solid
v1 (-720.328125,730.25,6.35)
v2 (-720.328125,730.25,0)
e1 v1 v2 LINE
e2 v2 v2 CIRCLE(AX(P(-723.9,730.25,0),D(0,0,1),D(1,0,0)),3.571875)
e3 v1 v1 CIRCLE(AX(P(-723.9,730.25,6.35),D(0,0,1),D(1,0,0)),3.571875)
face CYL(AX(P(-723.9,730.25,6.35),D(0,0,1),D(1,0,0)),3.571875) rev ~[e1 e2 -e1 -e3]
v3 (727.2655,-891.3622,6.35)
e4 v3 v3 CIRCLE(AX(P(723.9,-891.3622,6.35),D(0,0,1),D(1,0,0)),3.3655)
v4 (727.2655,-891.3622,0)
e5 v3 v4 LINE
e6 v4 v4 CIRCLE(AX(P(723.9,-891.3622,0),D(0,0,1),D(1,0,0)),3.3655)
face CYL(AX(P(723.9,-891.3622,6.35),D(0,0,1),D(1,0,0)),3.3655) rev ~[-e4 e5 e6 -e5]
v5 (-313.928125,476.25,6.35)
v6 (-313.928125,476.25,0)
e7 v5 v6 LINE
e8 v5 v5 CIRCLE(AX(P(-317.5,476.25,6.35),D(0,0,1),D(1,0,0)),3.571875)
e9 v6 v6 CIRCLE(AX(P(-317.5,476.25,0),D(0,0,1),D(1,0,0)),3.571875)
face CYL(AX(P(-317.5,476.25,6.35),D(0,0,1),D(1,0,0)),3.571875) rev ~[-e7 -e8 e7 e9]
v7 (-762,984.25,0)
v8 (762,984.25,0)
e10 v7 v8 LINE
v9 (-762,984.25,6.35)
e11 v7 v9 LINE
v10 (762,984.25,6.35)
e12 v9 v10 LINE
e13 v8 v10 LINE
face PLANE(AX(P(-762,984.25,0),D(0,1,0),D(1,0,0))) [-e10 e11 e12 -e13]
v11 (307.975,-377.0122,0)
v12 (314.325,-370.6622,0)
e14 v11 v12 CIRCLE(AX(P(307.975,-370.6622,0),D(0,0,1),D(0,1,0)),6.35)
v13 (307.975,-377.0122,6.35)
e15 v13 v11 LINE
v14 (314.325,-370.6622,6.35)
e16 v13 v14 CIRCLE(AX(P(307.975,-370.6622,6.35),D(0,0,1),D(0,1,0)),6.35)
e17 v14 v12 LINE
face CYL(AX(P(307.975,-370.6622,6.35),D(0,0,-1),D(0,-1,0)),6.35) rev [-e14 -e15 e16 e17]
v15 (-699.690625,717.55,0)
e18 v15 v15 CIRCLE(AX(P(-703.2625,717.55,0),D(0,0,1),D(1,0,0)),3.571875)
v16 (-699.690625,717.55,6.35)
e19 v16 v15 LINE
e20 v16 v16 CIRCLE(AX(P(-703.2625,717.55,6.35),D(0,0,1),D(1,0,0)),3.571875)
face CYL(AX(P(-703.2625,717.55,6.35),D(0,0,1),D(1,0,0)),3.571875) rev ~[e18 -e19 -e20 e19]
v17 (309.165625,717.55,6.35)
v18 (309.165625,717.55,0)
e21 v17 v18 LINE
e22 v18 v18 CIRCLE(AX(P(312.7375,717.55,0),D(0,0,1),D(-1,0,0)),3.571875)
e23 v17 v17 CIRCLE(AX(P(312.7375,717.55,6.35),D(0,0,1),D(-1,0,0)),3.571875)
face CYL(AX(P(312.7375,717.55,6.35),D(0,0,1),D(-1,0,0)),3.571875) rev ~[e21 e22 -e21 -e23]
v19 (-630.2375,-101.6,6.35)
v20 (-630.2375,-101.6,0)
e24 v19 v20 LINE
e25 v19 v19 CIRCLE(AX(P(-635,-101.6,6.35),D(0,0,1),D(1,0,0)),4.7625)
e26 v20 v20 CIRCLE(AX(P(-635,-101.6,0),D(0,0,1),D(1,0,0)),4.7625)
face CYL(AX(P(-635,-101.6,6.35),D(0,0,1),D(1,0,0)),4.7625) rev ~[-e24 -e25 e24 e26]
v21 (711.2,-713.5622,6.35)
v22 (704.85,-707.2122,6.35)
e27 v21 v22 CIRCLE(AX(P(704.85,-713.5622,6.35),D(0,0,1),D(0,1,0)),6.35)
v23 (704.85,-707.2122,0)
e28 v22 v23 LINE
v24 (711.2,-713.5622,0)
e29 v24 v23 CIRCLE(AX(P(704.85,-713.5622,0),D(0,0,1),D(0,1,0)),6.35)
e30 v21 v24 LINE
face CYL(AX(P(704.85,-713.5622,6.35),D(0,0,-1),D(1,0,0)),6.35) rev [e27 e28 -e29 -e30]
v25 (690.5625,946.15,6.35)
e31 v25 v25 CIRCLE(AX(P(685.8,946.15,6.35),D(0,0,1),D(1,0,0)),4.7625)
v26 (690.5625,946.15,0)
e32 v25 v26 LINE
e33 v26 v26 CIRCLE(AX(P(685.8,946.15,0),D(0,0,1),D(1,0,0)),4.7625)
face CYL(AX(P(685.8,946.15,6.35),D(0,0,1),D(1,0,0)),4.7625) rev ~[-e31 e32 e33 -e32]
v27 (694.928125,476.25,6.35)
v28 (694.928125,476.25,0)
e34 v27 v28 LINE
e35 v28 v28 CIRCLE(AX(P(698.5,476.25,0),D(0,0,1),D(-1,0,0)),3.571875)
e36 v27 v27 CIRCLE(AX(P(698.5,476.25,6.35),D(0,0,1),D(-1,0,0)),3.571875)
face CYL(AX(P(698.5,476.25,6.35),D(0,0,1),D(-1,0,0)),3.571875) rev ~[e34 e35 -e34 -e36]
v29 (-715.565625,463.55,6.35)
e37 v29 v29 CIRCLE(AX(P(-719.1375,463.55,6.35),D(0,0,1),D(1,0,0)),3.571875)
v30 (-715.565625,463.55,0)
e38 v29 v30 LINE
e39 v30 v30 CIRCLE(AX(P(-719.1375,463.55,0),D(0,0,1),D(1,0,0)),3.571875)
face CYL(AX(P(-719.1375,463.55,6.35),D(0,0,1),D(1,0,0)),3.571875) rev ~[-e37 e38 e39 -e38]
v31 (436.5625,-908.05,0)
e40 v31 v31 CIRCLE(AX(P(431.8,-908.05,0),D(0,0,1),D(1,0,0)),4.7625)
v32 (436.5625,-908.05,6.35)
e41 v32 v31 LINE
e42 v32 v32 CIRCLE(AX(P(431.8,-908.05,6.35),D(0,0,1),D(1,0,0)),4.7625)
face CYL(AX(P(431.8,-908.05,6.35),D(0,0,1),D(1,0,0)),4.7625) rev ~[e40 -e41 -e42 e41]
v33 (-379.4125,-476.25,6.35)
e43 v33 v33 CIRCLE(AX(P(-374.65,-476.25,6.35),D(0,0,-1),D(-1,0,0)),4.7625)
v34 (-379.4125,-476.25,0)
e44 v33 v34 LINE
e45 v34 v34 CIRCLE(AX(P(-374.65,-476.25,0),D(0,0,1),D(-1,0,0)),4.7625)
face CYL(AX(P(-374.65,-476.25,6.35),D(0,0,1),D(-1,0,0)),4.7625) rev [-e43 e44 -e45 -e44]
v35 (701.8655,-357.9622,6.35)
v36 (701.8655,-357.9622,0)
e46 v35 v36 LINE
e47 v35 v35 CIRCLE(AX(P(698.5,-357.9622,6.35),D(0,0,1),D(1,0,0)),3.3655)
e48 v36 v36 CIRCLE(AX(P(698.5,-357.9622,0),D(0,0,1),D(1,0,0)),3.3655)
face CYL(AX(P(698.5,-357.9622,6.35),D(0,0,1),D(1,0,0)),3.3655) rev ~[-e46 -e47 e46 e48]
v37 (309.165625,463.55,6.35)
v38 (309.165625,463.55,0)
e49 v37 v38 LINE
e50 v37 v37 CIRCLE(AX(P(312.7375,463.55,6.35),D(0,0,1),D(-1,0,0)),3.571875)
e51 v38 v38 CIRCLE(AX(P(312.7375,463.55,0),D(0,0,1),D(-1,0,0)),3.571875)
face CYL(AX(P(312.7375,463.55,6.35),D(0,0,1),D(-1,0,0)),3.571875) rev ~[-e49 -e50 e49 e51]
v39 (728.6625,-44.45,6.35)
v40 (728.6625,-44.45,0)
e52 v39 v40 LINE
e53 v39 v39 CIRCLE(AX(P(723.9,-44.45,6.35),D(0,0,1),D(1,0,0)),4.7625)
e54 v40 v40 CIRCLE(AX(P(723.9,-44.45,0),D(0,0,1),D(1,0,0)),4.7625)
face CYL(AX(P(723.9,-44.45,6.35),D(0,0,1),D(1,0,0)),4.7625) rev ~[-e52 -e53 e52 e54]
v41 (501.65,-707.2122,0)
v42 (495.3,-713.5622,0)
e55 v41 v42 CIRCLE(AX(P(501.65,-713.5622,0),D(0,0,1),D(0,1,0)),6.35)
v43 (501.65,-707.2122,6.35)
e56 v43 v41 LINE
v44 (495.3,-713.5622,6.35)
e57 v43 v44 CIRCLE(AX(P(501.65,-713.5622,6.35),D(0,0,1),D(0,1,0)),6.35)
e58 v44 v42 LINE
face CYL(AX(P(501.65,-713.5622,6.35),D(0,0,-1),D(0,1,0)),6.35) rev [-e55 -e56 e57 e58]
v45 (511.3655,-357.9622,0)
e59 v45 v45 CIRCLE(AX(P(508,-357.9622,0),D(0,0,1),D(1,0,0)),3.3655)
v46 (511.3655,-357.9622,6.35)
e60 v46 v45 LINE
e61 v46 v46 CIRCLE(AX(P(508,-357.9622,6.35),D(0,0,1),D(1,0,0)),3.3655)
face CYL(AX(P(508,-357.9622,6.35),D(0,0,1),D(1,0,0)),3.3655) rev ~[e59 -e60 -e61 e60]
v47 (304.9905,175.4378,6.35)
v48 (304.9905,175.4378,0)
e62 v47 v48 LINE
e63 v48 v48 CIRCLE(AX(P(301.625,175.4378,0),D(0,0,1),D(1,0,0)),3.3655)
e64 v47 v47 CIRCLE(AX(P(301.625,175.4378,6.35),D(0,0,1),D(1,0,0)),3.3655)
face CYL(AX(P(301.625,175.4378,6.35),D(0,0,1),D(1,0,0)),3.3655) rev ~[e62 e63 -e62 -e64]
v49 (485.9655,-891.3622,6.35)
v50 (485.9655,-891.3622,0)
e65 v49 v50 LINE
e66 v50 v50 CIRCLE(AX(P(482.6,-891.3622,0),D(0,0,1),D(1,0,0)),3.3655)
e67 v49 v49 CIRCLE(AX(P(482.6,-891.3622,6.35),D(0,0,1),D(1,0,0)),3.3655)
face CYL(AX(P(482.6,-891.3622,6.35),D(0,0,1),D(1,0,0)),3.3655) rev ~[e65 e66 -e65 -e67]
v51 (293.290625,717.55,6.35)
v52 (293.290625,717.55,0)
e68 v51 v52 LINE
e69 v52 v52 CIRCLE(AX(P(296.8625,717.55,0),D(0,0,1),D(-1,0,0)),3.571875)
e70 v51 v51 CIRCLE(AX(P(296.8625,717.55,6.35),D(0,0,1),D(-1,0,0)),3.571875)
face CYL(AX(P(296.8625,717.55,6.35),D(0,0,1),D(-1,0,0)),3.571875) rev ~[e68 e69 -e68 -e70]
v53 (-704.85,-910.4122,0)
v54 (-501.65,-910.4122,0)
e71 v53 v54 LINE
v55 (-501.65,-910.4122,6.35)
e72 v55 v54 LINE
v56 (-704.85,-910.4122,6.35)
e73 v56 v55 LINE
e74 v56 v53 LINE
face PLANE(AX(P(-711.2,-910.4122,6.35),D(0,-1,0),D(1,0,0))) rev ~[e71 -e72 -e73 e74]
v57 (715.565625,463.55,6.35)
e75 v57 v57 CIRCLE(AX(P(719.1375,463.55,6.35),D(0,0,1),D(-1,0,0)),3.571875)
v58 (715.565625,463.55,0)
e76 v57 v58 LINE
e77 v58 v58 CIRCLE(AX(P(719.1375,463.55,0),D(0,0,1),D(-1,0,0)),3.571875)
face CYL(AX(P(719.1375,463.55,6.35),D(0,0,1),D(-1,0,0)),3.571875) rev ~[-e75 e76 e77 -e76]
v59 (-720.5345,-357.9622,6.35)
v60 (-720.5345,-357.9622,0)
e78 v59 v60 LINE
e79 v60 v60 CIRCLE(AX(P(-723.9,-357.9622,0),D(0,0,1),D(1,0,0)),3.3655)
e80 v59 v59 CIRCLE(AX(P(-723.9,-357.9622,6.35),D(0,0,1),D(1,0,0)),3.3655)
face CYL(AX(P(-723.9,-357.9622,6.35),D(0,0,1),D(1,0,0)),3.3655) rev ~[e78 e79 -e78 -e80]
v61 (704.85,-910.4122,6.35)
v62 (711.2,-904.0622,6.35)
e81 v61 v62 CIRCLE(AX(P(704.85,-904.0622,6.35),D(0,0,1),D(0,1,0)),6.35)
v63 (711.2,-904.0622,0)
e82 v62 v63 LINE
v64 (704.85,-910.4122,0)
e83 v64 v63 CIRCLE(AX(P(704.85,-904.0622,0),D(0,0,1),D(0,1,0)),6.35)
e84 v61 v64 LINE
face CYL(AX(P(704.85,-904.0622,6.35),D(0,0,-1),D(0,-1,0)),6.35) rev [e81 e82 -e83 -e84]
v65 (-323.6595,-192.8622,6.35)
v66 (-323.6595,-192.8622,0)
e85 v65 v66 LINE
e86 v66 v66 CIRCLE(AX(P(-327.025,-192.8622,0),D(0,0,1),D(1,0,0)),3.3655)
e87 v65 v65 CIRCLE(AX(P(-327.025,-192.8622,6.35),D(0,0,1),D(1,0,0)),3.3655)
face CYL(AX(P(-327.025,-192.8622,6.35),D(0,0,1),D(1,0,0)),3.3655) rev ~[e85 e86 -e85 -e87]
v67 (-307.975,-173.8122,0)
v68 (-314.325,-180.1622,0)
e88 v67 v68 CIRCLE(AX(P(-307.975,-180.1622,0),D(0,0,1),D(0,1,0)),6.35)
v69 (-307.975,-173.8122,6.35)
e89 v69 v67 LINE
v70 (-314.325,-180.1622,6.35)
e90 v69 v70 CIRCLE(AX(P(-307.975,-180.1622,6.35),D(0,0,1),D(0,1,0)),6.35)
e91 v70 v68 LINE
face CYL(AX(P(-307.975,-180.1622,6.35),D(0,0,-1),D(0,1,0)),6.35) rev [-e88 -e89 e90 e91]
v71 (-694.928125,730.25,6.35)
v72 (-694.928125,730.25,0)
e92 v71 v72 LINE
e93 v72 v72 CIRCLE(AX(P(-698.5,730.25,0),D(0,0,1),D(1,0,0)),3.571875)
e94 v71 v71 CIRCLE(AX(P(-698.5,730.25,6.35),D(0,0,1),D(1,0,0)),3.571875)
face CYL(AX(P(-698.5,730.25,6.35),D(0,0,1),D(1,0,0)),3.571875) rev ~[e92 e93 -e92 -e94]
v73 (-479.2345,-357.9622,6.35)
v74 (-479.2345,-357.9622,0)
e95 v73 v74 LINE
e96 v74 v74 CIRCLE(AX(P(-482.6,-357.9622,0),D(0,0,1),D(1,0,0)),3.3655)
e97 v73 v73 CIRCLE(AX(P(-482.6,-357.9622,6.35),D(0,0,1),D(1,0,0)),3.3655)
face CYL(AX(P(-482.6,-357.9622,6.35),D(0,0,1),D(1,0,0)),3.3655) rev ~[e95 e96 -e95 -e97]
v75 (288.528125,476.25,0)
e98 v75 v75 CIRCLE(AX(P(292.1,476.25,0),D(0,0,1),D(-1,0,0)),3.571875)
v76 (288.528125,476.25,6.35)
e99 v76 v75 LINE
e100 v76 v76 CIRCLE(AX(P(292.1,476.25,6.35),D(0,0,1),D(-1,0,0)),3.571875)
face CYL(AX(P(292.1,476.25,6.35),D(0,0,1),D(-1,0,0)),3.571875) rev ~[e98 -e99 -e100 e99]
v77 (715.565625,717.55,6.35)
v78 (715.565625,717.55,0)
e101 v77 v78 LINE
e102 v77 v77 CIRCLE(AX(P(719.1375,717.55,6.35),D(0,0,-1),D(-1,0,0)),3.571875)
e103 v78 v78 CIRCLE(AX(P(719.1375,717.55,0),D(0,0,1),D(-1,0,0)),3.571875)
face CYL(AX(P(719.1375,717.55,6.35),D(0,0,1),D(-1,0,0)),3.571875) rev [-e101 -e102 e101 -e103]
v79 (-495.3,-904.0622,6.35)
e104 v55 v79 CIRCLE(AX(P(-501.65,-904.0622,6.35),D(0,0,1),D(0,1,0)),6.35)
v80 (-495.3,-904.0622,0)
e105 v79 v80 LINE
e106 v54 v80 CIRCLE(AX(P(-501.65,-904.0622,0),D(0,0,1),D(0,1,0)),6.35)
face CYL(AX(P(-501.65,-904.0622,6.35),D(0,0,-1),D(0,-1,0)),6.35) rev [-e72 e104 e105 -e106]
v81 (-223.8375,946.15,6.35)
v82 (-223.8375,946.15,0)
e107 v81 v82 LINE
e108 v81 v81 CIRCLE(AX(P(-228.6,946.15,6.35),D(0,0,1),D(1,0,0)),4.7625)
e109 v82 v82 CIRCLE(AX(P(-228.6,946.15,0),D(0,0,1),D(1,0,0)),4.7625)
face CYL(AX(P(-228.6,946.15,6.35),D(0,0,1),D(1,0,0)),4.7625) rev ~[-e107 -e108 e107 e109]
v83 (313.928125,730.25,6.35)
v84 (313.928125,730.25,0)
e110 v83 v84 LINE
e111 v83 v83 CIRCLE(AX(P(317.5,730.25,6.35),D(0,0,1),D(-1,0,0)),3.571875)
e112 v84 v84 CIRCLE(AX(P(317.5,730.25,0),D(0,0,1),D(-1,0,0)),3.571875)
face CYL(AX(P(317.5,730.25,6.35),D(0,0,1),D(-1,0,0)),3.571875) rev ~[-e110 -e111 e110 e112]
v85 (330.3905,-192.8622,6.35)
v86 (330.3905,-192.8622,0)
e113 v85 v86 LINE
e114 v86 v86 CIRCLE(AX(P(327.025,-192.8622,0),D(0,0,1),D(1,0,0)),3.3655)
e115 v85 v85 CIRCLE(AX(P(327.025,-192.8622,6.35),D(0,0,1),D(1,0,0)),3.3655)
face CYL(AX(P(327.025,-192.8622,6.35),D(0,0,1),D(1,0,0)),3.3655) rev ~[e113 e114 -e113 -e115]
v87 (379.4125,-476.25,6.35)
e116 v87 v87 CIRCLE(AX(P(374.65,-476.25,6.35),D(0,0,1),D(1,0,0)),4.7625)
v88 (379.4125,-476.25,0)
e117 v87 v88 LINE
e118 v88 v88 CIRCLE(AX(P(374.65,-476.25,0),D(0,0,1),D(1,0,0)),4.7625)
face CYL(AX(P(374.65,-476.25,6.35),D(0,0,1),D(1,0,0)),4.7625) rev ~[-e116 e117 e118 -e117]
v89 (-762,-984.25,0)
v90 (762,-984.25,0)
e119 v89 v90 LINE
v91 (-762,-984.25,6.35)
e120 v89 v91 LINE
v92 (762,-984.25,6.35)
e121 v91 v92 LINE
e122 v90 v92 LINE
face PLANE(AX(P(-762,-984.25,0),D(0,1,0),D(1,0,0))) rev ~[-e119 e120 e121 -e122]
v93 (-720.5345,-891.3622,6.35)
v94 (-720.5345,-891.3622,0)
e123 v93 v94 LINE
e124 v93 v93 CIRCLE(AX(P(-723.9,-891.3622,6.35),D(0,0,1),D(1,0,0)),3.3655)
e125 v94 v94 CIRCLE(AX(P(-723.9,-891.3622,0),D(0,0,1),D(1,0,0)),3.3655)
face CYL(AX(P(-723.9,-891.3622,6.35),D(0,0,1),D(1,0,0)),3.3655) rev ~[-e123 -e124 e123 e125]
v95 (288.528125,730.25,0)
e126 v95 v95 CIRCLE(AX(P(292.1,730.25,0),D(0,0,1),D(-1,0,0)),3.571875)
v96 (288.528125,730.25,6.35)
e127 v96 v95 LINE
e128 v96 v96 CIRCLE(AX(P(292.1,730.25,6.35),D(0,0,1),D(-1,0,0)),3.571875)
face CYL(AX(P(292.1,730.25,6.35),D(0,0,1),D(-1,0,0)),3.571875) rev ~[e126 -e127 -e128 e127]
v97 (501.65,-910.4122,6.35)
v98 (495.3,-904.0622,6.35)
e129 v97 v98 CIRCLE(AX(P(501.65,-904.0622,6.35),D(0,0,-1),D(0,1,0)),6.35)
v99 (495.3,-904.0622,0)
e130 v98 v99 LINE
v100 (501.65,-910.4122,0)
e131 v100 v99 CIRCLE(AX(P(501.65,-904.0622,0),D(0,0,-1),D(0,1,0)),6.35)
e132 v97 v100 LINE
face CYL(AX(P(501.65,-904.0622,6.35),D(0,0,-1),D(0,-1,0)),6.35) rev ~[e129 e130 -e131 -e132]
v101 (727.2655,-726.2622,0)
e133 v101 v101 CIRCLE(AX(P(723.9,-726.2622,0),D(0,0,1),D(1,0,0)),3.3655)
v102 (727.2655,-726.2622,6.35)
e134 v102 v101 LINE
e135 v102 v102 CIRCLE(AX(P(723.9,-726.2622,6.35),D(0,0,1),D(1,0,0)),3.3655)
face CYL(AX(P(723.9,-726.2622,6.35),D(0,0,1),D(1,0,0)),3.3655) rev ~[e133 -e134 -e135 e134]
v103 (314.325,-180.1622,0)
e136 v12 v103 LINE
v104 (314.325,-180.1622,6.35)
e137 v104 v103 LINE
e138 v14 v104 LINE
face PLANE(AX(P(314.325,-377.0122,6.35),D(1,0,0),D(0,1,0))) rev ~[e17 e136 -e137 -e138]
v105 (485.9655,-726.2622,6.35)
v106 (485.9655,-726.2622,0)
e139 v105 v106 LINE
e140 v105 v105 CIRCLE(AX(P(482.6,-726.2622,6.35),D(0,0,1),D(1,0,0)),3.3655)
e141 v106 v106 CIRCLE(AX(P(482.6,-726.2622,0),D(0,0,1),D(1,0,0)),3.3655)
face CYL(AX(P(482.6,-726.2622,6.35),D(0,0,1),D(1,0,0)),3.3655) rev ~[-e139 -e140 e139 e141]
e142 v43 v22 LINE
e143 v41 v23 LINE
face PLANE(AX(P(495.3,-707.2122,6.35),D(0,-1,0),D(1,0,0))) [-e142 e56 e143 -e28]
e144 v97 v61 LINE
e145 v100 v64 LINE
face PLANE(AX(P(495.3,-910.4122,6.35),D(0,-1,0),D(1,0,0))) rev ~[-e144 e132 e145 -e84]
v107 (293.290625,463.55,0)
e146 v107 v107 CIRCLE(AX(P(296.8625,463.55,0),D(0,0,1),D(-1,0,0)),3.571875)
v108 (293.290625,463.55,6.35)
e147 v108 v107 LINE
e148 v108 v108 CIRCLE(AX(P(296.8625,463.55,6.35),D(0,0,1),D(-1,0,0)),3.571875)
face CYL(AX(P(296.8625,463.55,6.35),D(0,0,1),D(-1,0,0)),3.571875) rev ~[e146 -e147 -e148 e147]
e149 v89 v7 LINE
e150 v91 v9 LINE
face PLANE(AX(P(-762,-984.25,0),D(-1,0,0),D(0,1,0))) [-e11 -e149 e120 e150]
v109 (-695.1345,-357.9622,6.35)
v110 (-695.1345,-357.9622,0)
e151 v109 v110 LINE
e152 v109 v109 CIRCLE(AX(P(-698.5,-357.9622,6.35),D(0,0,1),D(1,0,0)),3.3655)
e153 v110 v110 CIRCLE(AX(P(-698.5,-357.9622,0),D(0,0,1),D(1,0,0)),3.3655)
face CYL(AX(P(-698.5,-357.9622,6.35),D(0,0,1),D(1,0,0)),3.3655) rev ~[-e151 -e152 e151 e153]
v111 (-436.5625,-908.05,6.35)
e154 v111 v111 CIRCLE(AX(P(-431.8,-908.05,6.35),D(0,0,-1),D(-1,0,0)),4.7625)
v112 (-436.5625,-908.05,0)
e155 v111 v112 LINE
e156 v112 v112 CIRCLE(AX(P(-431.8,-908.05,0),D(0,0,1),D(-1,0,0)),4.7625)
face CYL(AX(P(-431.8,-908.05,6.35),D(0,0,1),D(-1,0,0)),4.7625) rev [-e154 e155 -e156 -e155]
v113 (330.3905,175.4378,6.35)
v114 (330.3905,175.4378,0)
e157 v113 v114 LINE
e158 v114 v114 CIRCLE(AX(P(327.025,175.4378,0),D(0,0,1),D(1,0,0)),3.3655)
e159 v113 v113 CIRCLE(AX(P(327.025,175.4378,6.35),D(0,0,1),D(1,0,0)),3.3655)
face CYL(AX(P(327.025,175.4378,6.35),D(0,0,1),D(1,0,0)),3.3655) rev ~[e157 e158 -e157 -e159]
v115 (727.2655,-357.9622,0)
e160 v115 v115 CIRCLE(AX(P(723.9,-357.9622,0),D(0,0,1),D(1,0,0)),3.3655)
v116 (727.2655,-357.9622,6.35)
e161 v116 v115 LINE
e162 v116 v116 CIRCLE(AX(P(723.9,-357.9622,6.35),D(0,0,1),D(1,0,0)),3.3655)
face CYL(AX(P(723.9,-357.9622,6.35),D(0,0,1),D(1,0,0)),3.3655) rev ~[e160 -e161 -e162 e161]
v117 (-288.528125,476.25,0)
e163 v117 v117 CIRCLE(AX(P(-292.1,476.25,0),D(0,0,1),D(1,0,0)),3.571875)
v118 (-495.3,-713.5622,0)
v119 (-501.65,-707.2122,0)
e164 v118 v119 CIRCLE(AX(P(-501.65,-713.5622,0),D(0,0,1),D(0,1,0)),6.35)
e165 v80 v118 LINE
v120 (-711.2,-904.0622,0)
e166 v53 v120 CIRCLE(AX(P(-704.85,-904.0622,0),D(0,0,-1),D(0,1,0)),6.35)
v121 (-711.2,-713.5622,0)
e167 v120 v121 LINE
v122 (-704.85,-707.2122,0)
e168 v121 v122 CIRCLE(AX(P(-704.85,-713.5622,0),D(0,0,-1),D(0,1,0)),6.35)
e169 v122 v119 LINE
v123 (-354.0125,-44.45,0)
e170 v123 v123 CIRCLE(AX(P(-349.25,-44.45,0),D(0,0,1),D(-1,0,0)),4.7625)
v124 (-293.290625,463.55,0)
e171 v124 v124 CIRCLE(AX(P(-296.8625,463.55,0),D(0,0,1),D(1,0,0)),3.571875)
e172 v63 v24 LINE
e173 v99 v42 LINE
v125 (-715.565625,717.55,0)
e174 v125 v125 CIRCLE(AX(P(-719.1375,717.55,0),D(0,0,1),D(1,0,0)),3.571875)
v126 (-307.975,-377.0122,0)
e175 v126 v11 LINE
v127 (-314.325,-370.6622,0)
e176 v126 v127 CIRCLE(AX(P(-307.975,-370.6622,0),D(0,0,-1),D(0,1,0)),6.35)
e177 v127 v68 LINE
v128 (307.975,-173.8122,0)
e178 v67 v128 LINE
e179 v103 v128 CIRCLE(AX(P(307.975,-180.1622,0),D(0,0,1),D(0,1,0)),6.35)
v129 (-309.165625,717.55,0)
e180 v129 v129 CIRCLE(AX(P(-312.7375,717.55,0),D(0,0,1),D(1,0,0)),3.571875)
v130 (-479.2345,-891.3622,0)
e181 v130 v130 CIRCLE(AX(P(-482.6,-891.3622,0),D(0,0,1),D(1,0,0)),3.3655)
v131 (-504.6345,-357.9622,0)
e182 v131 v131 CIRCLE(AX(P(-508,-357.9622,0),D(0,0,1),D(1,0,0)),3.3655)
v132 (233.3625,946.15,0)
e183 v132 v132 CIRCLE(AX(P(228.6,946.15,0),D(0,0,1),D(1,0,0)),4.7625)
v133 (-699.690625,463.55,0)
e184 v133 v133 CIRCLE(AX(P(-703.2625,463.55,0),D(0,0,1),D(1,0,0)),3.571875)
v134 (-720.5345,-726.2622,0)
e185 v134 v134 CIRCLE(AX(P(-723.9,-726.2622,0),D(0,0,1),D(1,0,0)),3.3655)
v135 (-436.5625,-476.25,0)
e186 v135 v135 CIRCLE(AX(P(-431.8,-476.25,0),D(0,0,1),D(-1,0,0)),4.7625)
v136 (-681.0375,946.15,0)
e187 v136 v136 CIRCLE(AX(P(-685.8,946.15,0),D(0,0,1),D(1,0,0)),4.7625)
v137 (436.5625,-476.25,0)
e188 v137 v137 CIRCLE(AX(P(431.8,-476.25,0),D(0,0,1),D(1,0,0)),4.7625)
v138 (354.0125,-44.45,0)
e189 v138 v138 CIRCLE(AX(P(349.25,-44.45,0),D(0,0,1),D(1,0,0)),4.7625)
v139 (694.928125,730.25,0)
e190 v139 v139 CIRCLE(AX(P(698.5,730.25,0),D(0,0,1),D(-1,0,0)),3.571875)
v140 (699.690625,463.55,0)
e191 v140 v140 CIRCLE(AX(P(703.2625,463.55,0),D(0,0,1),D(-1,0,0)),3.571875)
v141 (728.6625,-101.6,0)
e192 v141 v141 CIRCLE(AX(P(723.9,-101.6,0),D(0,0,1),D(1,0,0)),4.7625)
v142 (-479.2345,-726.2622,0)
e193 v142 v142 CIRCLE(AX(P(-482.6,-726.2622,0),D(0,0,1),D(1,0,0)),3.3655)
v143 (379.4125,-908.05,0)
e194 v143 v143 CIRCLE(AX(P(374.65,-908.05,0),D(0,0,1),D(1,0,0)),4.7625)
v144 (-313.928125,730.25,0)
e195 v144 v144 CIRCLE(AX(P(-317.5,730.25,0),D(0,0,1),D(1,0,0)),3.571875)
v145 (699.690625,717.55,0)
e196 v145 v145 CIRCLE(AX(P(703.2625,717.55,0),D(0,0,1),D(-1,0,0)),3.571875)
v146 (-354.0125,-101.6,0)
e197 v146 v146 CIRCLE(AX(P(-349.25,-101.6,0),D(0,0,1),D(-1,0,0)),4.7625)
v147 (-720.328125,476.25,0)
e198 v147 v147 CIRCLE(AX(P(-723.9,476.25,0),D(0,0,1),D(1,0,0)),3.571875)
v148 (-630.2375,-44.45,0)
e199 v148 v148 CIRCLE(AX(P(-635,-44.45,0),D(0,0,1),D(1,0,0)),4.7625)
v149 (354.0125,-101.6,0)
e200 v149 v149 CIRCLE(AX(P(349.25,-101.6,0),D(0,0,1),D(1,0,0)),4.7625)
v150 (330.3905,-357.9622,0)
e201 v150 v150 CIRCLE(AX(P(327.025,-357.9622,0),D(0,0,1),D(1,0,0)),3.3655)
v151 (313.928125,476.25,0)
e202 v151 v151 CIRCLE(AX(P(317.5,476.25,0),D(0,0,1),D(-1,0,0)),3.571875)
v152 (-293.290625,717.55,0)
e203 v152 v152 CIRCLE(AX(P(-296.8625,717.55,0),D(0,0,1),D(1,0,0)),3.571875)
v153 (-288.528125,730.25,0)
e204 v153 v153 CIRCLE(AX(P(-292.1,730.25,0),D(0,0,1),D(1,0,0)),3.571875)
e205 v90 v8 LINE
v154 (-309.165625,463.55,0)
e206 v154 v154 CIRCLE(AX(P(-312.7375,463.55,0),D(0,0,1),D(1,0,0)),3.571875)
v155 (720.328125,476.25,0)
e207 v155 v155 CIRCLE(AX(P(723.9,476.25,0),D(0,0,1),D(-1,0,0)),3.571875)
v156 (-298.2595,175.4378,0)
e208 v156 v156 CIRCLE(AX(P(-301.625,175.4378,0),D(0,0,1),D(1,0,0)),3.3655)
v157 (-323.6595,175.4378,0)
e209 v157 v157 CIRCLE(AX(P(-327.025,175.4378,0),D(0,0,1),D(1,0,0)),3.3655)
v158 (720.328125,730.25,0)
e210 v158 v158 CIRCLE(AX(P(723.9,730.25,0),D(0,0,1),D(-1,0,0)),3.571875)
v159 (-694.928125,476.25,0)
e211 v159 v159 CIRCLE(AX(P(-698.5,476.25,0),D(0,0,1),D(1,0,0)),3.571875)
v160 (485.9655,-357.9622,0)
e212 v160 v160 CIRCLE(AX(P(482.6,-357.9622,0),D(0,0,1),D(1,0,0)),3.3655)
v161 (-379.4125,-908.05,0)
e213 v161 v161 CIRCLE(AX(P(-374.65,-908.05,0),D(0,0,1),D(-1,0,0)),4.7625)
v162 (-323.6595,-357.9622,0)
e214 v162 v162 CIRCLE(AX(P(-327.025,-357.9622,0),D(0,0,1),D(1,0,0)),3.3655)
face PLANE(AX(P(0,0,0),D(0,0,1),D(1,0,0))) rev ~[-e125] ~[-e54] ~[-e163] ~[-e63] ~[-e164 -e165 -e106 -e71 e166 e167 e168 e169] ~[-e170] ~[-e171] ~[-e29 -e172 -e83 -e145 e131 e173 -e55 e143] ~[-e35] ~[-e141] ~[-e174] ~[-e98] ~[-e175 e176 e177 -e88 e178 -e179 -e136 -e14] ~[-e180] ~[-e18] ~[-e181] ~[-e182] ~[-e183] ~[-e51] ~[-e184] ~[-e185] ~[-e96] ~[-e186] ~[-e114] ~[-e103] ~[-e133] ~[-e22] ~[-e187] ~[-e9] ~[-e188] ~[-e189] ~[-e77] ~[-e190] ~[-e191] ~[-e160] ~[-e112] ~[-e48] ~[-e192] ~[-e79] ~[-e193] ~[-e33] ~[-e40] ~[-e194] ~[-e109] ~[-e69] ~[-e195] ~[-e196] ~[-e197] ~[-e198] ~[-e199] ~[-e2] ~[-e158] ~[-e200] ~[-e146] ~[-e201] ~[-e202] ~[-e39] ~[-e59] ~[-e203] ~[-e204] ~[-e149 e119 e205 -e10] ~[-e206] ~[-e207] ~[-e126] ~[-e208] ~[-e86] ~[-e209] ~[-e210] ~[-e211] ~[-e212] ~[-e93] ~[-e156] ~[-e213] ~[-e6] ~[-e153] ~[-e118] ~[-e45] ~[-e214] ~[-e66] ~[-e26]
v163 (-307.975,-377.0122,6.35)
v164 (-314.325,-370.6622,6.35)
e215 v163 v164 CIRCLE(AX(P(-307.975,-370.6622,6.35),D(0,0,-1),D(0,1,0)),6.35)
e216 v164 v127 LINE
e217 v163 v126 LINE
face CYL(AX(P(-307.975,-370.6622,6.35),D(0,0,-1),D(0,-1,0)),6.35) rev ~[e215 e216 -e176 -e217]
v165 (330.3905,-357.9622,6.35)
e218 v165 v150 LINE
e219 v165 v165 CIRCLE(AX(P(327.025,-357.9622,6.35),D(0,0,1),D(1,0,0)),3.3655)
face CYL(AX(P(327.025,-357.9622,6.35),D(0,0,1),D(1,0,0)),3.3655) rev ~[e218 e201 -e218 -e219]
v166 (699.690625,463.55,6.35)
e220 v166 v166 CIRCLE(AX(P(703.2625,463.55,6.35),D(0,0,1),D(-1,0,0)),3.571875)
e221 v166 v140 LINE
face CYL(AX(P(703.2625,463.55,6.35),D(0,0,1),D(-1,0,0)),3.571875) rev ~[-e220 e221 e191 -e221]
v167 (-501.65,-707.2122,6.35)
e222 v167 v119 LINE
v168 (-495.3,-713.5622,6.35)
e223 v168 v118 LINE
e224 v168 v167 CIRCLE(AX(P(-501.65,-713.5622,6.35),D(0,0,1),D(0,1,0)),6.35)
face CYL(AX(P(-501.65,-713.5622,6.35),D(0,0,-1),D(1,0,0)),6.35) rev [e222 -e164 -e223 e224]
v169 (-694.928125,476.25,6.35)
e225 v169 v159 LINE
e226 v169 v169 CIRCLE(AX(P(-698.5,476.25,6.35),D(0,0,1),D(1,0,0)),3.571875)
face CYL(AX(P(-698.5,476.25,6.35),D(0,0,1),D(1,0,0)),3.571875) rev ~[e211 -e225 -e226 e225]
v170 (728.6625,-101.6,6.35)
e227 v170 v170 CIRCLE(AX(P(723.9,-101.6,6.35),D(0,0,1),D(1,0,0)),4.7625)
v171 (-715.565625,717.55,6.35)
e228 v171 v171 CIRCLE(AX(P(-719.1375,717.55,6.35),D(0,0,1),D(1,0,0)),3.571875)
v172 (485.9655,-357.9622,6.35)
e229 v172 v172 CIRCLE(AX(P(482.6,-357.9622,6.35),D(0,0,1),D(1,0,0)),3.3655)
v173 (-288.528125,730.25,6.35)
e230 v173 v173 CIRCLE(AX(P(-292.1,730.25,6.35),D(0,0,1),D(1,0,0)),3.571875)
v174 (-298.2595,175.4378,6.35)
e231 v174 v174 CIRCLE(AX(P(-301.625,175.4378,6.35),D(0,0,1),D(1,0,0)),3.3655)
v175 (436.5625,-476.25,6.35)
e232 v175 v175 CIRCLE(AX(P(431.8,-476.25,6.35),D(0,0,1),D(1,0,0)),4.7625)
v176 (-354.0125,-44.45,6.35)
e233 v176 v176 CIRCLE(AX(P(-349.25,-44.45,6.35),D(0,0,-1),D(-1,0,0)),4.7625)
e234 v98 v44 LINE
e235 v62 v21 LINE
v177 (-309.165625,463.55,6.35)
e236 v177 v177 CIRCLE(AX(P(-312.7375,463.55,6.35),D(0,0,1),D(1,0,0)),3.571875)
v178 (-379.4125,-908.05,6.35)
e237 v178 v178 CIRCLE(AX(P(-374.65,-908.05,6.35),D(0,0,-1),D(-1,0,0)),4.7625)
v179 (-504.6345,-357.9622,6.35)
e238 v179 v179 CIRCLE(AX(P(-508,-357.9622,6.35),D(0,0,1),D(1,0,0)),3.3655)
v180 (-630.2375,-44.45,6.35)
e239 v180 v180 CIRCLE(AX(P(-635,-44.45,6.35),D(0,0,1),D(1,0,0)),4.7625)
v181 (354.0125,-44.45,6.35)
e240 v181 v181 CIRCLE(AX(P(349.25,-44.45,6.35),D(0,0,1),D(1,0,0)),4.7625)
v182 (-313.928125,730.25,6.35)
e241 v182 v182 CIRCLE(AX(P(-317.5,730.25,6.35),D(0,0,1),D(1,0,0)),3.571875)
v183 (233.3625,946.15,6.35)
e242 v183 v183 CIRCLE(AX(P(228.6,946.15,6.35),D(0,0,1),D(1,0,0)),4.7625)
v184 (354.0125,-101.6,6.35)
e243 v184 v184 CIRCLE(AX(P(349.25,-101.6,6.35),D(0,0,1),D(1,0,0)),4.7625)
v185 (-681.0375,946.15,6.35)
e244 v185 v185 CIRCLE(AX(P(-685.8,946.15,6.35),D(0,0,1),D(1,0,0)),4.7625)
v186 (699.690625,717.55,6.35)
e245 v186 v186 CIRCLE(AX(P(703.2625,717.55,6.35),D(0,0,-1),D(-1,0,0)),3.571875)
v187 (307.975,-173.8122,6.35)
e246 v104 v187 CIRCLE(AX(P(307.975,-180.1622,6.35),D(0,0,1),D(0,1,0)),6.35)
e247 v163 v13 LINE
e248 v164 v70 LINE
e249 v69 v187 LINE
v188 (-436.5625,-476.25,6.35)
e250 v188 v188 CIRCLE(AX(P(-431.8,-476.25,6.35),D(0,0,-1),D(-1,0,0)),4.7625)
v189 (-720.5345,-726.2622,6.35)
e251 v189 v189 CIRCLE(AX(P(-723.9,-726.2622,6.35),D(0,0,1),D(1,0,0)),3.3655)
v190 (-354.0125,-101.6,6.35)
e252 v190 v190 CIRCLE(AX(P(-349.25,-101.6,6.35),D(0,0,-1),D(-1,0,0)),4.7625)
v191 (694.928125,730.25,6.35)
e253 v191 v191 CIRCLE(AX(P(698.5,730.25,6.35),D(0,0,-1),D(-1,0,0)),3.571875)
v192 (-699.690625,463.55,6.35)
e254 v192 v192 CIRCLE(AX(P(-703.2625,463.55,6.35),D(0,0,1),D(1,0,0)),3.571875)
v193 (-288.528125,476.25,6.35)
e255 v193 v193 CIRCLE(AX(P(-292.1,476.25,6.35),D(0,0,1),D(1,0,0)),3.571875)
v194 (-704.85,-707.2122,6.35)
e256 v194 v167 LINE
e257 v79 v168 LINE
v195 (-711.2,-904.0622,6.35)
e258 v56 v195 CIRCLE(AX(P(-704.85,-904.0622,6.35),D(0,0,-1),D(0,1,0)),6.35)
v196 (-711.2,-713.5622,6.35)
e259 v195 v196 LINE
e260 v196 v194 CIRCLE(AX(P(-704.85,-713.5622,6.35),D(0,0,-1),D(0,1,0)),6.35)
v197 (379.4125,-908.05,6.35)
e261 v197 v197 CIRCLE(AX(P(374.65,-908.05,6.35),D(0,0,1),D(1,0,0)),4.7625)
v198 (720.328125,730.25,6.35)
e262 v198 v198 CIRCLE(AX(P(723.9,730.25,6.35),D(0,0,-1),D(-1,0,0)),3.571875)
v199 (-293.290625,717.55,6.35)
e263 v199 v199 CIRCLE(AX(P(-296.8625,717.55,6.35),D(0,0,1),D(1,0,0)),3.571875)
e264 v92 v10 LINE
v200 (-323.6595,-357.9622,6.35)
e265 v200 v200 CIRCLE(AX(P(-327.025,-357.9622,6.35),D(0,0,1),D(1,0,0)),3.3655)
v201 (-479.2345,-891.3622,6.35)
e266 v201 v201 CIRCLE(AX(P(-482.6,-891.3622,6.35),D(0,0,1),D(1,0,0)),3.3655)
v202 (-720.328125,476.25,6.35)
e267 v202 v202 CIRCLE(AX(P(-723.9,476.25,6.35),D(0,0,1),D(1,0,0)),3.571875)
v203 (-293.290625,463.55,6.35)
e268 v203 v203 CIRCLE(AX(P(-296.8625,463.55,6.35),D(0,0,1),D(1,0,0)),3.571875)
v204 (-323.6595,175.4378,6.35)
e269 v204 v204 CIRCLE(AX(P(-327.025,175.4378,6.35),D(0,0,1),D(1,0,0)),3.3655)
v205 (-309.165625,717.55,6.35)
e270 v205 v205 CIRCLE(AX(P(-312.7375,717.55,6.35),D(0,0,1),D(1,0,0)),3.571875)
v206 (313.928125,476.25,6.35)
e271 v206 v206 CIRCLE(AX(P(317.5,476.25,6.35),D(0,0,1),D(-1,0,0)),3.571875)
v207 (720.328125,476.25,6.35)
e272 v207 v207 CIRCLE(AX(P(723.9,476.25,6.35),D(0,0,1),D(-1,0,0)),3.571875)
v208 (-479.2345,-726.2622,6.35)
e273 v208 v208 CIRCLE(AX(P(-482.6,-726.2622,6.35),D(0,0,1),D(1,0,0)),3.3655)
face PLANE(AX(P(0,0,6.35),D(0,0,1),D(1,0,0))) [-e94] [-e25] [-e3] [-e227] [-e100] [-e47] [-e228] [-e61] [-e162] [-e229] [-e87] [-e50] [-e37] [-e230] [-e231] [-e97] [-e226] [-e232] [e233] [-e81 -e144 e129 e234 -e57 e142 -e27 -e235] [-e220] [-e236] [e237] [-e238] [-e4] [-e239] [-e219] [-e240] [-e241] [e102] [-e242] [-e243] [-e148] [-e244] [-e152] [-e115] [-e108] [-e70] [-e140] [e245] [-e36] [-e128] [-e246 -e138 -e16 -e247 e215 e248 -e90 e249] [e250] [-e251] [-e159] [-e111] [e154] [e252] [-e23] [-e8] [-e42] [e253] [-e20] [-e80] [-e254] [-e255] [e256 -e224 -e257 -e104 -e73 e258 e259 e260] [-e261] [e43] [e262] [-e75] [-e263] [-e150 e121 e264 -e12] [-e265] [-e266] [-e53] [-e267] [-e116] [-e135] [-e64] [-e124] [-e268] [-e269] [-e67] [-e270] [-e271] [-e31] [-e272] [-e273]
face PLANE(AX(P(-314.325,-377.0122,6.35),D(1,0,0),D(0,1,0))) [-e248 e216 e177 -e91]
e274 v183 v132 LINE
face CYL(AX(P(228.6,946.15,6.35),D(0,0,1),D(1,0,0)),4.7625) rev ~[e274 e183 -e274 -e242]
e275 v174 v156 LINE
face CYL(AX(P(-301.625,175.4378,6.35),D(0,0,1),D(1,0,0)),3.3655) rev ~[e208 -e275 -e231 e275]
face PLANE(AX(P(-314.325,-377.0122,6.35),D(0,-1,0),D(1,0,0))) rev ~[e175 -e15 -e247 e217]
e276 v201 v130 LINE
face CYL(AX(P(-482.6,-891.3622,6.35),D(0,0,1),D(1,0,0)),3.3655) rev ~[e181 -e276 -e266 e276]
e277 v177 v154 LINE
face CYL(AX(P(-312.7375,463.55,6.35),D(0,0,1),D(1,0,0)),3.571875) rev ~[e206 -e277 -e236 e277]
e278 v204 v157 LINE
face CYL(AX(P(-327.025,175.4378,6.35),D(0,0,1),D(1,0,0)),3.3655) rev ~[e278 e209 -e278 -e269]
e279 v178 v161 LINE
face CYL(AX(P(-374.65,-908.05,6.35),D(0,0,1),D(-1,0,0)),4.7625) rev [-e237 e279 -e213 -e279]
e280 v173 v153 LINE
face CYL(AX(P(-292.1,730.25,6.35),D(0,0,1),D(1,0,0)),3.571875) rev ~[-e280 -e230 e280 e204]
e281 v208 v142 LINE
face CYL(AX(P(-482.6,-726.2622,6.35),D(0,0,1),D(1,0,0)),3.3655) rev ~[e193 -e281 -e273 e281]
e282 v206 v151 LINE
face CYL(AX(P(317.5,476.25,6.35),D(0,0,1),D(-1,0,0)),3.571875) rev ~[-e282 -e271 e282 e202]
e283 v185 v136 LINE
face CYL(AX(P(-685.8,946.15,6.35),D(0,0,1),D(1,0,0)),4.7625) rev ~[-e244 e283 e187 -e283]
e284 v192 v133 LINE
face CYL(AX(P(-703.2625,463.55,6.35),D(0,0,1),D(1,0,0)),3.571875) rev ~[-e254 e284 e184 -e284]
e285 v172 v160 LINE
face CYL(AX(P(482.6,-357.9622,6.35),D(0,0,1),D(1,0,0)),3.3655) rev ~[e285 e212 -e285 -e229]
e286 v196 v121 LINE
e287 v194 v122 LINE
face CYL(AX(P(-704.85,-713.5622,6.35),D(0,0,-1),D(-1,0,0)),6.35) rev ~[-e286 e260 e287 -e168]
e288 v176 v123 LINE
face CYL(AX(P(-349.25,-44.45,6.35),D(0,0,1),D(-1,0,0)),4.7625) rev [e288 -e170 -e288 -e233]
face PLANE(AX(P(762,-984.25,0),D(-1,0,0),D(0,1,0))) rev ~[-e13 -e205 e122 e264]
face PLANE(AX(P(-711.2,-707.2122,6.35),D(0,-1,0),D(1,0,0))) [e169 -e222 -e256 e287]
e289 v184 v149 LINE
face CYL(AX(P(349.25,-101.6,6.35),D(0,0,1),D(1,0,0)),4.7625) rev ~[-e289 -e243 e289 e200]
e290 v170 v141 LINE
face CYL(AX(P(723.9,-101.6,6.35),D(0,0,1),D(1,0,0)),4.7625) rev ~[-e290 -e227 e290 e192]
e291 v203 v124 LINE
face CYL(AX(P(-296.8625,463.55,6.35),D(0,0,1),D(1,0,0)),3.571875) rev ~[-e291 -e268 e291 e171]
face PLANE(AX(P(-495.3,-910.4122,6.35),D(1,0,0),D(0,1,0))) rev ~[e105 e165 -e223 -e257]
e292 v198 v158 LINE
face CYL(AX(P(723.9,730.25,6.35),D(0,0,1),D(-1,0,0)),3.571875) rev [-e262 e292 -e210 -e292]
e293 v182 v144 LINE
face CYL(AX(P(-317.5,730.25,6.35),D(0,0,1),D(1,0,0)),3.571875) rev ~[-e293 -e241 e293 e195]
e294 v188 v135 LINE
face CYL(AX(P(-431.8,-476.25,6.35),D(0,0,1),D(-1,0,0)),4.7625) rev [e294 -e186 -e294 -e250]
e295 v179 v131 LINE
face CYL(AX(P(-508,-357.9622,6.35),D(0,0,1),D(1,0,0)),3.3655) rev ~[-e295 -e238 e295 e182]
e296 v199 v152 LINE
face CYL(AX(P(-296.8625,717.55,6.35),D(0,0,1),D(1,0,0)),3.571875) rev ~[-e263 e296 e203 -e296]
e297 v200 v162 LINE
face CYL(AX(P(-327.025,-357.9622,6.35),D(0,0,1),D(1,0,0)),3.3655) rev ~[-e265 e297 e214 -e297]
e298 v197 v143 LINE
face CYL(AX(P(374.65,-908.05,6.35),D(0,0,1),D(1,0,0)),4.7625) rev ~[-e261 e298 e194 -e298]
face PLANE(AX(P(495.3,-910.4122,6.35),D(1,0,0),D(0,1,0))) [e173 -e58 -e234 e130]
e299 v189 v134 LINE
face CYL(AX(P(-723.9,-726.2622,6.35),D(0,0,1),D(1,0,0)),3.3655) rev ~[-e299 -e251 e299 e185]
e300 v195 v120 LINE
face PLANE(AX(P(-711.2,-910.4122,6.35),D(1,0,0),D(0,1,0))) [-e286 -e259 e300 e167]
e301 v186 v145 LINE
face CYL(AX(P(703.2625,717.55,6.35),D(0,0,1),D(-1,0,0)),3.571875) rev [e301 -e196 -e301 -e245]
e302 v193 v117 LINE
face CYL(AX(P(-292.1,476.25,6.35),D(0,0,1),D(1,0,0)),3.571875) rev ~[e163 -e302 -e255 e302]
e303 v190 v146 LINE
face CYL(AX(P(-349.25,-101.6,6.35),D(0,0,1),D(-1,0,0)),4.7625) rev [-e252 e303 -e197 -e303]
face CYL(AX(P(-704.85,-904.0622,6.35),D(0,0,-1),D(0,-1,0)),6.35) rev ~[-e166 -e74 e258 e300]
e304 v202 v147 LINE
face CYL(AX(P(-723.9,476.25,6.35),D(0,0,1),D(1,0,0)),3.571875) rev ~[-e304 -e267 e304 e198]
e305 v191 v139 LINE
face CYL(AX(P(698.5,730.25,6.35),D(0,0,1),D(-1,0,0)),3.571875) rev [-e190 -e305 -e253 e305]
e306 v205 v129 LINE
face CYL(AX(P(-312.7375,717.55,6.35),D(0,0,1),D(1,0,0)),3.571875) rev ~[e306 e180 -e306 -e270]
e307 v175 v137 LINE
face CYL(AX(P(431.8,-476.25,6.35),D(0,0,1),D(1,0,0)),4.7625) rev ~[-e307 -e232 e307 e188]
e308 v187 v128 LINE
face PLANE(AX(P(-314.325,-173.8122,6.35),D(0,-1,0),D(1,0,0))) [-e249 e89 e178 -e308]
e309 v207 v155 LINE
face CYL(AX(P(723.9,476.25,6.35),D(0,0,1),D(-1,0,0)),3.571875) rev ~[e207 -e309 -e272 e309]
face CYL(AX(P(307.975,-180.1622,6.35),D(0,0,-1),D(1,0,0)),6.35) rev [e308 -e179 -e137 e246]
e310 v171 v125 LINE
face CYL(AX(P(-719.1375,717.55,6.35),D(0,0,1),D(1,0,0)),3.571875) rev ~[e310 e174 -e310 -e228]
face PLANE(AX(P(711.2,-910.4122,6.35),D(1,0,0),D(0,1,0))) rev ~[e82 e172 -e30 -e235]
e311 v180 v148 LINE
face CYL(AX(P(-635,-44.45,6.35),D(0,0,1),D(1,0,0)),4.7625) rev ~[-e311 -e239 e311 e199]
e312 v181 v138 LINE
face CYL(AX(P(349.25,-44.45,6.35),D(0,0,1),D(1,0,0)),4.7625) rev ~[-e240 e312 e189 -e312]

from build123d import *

# Parameters (mm, degrees)
SKETCH1_W               = 1524
SKETCH1_H               = 1968.5
BOSS_EXTRUDE1_DEPTH     = 6.35
SKETCH2_W               = 628.65
SKETCH2_H               = 203.2
CUT_EXTRUDE1_DEPTH      = 7.35
FILLET1_R               = 6.35
SKETCH3_W               = 215.9
SKETCH3_H               = 203.2
CUT_EXTRUDE2_DEPTH      = 7.35
SKETCH4_W               = 215.9
SKETCH4_H               = 203.2
CUT_EXTRUDE3_DEPTH      = 6.35
FILLET2_R               = 6.35
SKETCH5_R               = 3.571875
CUT_EXTRUDE4_DEPTH      = 7.35
LPATTERN1_COUNT         = 2
LPATTERN1_PITCH         = 406.4
LPATTERN1_COUNT_DIR2    = 2
LPATTERN1_PITCH_DIR2    = 254
MIRROR1_COPY_1_SKETCH_R = 3.571875
MIRROR1_COPY_1_DEPTH    = 7.35
MIRROR1_COPY_2_SKETCH_R = 3.571875
MIRROR1_COPY_2_DEPTH    = 7.35
MIRROR1_COPY_3_SKETCH_R = 3.571875
MIRROR1_COPY_3_DEPTH    = 7.35
SKETCH6_R               = 4.7625
CUT_EXTRUDE5_DEPTH      = 7.35
LPATTERN2_COUNT         = 4
LPATTERN2_PITCH         = 457.2
SKETCH7_R               = 3.3655
CUT_EXTRUDE6_DEPTH      = 7.35
SKETCH8_R               = 4.7625
CUT_EXTRUDE7_DEPTH      = 7.35
SKETCH10_R              = 4.7625
CUT_EXTRUDE8_DEPTH      = 7.35


with BuildPart() as part:
    # Sketch1 → Boss-Extrude1 (new body)
    with BuildSketch(Plane.XY):
        Rectangle(SKETCH1_W, SKETCH1_H)
    extrude(amount=BOSS_EXTRUDE1_DEPTH)

    # Sketch2 → Cut-Extrude1 (cut, through all)
    with BuildSketch(Plane.XY.offset(6.35)):
        with Locations((0, -275.4122)):
            Rectangle(SKETCH2_W, SKETCH2_H)
    extrude(amount=-CUT_EXTRUDE1_DEPTH, mode=Mode.SUBTRACT)

    # Fillet1
    fillet1_edges = [part.edges().sort_by_distance(p)[0] for p in [
        (314.325, -173.8122, 3.175),
        (314.325, -377.0122, 3.175),
        (-314.325, -377.0122, 3.175),
        (-314.325, -173.8122, 3.175),
    ]]
    fillet(fillet1_edges, radius=FILLET1_R)

    # Sketch3 → Cut-Extrude2 (cut, through all)
    with BuildSketch(Plane.XY.offset(6.35)):
        with Locations((-603.25, -808.8122)):
            Rectangle(SKETCH3_W, SKETCH3_H)
    extrude(amount=-CUT_EXTRUDE2_DEPTH, mode=Mode.SUBTRACT)

    # Sketch4 → Cut-Extrude3 (cut)
    with BuildSketch(Plane.XY.offset(6.35)):
        with Locations((603.25, -808.8122)):
            Rectangle(SKETCH4_W, SKETCH4_H)
    extrude(amount=-CUT_EXTRUDE3_DEPTH, mode=Mode.SUBTRACT)

    # Fillet2
    fillet2_edges = [part.edges().sort_by_distance(p)[0] for p in [
        (711.2, -707.2122, 3.175),
        (711.2, -910.4122, 3.175),
        (495.3, -910.4122, 3.175),
        (495.3, -707.2122, 3.175),
        (-495.3, -707.2122, 3.175),
        (-495.3, -910.4122, 3.175),
        (-711.2, -910.4122, 3.175),
        (-711.2, -707.2122, 3.175),
    ]]
    fillet(fillet2_edges, radius=FILLET2_R)

    # Sketch5 → Cut-Extrude4 (cut, through all)
    with BuildSketch(Plane.XY.offset(6.35)):
        with Locations((-723.9, 730.25)):
            Circle(SKETCH5_R)
        with Locations((-698.5, 730.25)):
            Circle(SKETCH5_R)
        with Locations((-719.1375, 717.55)):
            Circle(SKETCH5_R)
        with Locations((-703.2625, 717.55)):
            Circle(SKETCH5_R)
    cut_extrude4 = extrude(amount=-CUT_EXTRUDE4_DEPTH, mode=Mode.SUBTRACT)

    # LPattern1: Cut-Extrude4 2 × 2
    with Locations(*[(i * LPATTERN1_PITCH, -j * LPATTERN1_PITCH_DIR2, 0) for i in range(LPATTERN1_COUNT) for j in range(LPATTERN1_COUNT_DIR2) if (i, j) != (0, 0)]):
        add(cut_extrude4, mode=Mode.SUBTRACT)

    # Mirror1: Cut-Extrude4 across plane
    add(cut_extrude4.mirror(Plane(origin=(0, 0, 0), x_dir=(0, 0, 1), z_dir=(1, 0, 0))), mode=Mode.SUBTRACT)

    # Mirror1 copy 1 sketch → Mirror1 copy 1 (cut, through all)
    with BuildSketch(Plane(origin=(0, -254, 6.35), x_dir=(-1, 0, 0), z_dir=(0, 0, 1))):
        with Locations((-723.9, -730.25)):
            Circle(MIRROR1_COPY_1_SKETCH_R)
        with Locations((-698.5, -730.25)):
            Circle(MIRROR1_COPY_1_SKETCH_R)
        with Locations((-719.1375, -717.55)):
            Circle(MIRROR1_COPY_1_SKETCH_R)
        with Locations((-703.2625, -717.55)):
            Circle(MIRROR1_COPY_1_SKETCH_R)
    extrude(amount=-MIRROR1_COPY_1_DEPTH, mode=Mode.SUBTRACT)

    # Mirror1 copy 2 sketch → Mirror1 copy 2 (cut, through all)
    with BuildSketch(Plane(origin=(-406.4, 0, 6.35), x_dir=(-1, 0, 0), z_dir=(0, 0, 1))):
        with Locations((-723.9, -730.25)):
            Circle(MIRROR1_COPY_2_SKETCH_R)
        with Locations((-698.5, -730.25)):
            Circle(MIRROR1_COPY_2_SKETCH_R)
        with Locations((-719.1375, -717.55)):
            Circle(MIRROR1_COPY_2_SKETCH_R)
        with Locations((-703.2625, -717.55)):
            Circle(MIRROR1_COPY_2_SKETCH_R)
    extrude(amount=-MIRROR1_COPY_2_DEPTH, mode=Mode.SUBTRACT)

    # Mirror1 copy 3 sketch → Mirror1 copy 3 (cut, through all)
    with BuildSketch(Plane(origin=(-406.4, -254, 6.35), x_dir=(-1, 0, 0), z_dir=(0, 0, 1))):
        with Locations((-723.9, -730.25)):
            Circle(MIRROR1_COPY_3_SKETCH_R)
        with Locations((-698.5, -730.25)):
            Circle(MIRROR1_COPY_3_SKETCH_R)
        with Locations((-719.1375, -717.55)):
            Circle(MIRROR1_COPY_3_SKETCH_R)
        with Locations((-703.2625, -717.55)):
            Circle(MIRROR1_COPY_3_SKETCH_R)
    extrude(amount=-MIRROR1_COPY_3_DEPTH, mode=Mode.SUBTRACT)

    # Sketch6 → Cut-Extrude5 (cut, through all)
    with BuildSketch(Plane.XY.offset(6.35)):
        with Locations((-685.8, 946.15)):
            Circle(SKETCH6_R)
    cut_extrude5 = extrude(amount=-CUT_EXTRUDE5_DEPTH, mode=Mode.SUBTRACT)

    # LPattern2: Cut-Extrude5 ×4
    with Locations(*[(i * LPATTERN2_PITCH, 0, 0) for i in range(1, LPATTERN2_COUNT)]):
        add(cut_extrude5, mode=Mode.SUBTRACT)

    # Sketch7 → Cut-Extrude6 (cut, through all)
    with BuildSketch(Plane.XY.offset(6.35)):
        with Locations((-723.9, -726.2622)):
            Circle(SKETCH7_R)
        with Locations((-723.9, -891.3622)):
            Circle(SKETCH7_R)
        with Locations((-482.6, -726.2622)):
            Circle(SKETCH7_R)
        with Locations((-482.6, -891.3622)):
            Circle(SKETCH7_R)
        with Locations((482.6, -726.2622)):
            Circle(SKETCH7_R)
        with Locations((482.6, -891.3622)):
            Circle(SKETCH7_R)
        with Locations((723.9, -891.3622)):
            Circle(SKETCH7_R)
        with Locations((723.9, -726.2622)):
            Circle(SKETCH7_R)
        with Locations((-327.025, -192.8622)):
            Circle(SKETCH7_R)
        with Locations((-327.025, -357.9622)):
            Circle(SKETCH7_R)
        with Locations((327.025, -192.8622)):
            Circle(SKETCH7_R)
        with Locations((327.025, -357.9622)):
            Circle(SKETCH7_R)
        with Locations((-723.9, -357.9622)):
            Circle(SKETCH7_R)
        with Locations((-698.5, -357.9622)):
            Circle(SKETCH7_R)
        with Locations((-508, -357.9622)):
            Circle(SKETCH7_R)
        with Locations((-482.6, -357.9622)):
            Circle(SKETCH7_R)
        with Locations((482.6, -357.9622)):
            Circle(SKETCH7_R)
        with Locations((508, -357.9622)):
            Circle(SKETCH7_R)
        with Locations((698.5, -357.9622)):
            Circle(SKETCH7_R)
        with Locations((723.9, -357.9622)):
            Circle(SKETCH7_R)
        with Locations((-327.025, 175.4378)):
            Circle(SKETCH7_R)
        with Locations((-301.625, 175.4378)):
            Circle(SKETCH7_R)
        with Locations((301.625, 175.4378)):
            Circle(SKETCH7_R)
        with Locations((327.025, 175.4378)):
            Circle(SKETCH7_R)
    extrude(amount=-CUT_EXTRUDE6_DEPTH, mode=Mode.SUBTRACT)

    # Sketch8 → Cut-Extrude7 (cut, through all)
    with BuildSketch(Plane.XY.offset(6.35)):
        with Locations((349.25, -44.45)):
            Circle(SKETCH8_R)
        with Locations((349.25, -101.6)):
            Circle(SKETCH8_R)
        with Locations((374.65, -908.05)):
            Circle(SKETCH8_R)
        with Locations((431.8, -908.05)):
            Circle(SKETCH8_R)
        with Locations((374.65, -476.25)):
            Circle(SKETCH8_R)
        with Locations((431.8, -476.25)):
            Circle(SKETCH8_R)
    cut_extrude7 = extrude(amount=-CUT_EXTRUDE7_DEPTH, mode=Mode.SUBTRACT)

    # Mirror2: Cut-Extrude7 across plane
    add(cut_extrude7.mirror(Plane(origin=(0, 0, 0), x_dir=(0, 0, 1), z_dir=(1, 0, 0))), mode=Mode.SUBTRACT)

    # Sketch10 → Cut-Extrude8 (cut, through all)
    with BuildSketch(Plane.XY.offset(6.35)):
        with Locations((-635, -44.45)):
            Circle(SKETCH10_R)
        with Locations((-635, -101.6)):
            Circle(SKETCH10_R)
        with Locations((723.9, -44.45)):
            Circle(SKETCH10_R)
        with Locations((723.9, -101.6)):
            Circle(SKETCH10_R)
    extrude(amount=-CUT_EXTRUDE8_DEPTH, mode=Mode.SUBTRACT)


solid = part.part
